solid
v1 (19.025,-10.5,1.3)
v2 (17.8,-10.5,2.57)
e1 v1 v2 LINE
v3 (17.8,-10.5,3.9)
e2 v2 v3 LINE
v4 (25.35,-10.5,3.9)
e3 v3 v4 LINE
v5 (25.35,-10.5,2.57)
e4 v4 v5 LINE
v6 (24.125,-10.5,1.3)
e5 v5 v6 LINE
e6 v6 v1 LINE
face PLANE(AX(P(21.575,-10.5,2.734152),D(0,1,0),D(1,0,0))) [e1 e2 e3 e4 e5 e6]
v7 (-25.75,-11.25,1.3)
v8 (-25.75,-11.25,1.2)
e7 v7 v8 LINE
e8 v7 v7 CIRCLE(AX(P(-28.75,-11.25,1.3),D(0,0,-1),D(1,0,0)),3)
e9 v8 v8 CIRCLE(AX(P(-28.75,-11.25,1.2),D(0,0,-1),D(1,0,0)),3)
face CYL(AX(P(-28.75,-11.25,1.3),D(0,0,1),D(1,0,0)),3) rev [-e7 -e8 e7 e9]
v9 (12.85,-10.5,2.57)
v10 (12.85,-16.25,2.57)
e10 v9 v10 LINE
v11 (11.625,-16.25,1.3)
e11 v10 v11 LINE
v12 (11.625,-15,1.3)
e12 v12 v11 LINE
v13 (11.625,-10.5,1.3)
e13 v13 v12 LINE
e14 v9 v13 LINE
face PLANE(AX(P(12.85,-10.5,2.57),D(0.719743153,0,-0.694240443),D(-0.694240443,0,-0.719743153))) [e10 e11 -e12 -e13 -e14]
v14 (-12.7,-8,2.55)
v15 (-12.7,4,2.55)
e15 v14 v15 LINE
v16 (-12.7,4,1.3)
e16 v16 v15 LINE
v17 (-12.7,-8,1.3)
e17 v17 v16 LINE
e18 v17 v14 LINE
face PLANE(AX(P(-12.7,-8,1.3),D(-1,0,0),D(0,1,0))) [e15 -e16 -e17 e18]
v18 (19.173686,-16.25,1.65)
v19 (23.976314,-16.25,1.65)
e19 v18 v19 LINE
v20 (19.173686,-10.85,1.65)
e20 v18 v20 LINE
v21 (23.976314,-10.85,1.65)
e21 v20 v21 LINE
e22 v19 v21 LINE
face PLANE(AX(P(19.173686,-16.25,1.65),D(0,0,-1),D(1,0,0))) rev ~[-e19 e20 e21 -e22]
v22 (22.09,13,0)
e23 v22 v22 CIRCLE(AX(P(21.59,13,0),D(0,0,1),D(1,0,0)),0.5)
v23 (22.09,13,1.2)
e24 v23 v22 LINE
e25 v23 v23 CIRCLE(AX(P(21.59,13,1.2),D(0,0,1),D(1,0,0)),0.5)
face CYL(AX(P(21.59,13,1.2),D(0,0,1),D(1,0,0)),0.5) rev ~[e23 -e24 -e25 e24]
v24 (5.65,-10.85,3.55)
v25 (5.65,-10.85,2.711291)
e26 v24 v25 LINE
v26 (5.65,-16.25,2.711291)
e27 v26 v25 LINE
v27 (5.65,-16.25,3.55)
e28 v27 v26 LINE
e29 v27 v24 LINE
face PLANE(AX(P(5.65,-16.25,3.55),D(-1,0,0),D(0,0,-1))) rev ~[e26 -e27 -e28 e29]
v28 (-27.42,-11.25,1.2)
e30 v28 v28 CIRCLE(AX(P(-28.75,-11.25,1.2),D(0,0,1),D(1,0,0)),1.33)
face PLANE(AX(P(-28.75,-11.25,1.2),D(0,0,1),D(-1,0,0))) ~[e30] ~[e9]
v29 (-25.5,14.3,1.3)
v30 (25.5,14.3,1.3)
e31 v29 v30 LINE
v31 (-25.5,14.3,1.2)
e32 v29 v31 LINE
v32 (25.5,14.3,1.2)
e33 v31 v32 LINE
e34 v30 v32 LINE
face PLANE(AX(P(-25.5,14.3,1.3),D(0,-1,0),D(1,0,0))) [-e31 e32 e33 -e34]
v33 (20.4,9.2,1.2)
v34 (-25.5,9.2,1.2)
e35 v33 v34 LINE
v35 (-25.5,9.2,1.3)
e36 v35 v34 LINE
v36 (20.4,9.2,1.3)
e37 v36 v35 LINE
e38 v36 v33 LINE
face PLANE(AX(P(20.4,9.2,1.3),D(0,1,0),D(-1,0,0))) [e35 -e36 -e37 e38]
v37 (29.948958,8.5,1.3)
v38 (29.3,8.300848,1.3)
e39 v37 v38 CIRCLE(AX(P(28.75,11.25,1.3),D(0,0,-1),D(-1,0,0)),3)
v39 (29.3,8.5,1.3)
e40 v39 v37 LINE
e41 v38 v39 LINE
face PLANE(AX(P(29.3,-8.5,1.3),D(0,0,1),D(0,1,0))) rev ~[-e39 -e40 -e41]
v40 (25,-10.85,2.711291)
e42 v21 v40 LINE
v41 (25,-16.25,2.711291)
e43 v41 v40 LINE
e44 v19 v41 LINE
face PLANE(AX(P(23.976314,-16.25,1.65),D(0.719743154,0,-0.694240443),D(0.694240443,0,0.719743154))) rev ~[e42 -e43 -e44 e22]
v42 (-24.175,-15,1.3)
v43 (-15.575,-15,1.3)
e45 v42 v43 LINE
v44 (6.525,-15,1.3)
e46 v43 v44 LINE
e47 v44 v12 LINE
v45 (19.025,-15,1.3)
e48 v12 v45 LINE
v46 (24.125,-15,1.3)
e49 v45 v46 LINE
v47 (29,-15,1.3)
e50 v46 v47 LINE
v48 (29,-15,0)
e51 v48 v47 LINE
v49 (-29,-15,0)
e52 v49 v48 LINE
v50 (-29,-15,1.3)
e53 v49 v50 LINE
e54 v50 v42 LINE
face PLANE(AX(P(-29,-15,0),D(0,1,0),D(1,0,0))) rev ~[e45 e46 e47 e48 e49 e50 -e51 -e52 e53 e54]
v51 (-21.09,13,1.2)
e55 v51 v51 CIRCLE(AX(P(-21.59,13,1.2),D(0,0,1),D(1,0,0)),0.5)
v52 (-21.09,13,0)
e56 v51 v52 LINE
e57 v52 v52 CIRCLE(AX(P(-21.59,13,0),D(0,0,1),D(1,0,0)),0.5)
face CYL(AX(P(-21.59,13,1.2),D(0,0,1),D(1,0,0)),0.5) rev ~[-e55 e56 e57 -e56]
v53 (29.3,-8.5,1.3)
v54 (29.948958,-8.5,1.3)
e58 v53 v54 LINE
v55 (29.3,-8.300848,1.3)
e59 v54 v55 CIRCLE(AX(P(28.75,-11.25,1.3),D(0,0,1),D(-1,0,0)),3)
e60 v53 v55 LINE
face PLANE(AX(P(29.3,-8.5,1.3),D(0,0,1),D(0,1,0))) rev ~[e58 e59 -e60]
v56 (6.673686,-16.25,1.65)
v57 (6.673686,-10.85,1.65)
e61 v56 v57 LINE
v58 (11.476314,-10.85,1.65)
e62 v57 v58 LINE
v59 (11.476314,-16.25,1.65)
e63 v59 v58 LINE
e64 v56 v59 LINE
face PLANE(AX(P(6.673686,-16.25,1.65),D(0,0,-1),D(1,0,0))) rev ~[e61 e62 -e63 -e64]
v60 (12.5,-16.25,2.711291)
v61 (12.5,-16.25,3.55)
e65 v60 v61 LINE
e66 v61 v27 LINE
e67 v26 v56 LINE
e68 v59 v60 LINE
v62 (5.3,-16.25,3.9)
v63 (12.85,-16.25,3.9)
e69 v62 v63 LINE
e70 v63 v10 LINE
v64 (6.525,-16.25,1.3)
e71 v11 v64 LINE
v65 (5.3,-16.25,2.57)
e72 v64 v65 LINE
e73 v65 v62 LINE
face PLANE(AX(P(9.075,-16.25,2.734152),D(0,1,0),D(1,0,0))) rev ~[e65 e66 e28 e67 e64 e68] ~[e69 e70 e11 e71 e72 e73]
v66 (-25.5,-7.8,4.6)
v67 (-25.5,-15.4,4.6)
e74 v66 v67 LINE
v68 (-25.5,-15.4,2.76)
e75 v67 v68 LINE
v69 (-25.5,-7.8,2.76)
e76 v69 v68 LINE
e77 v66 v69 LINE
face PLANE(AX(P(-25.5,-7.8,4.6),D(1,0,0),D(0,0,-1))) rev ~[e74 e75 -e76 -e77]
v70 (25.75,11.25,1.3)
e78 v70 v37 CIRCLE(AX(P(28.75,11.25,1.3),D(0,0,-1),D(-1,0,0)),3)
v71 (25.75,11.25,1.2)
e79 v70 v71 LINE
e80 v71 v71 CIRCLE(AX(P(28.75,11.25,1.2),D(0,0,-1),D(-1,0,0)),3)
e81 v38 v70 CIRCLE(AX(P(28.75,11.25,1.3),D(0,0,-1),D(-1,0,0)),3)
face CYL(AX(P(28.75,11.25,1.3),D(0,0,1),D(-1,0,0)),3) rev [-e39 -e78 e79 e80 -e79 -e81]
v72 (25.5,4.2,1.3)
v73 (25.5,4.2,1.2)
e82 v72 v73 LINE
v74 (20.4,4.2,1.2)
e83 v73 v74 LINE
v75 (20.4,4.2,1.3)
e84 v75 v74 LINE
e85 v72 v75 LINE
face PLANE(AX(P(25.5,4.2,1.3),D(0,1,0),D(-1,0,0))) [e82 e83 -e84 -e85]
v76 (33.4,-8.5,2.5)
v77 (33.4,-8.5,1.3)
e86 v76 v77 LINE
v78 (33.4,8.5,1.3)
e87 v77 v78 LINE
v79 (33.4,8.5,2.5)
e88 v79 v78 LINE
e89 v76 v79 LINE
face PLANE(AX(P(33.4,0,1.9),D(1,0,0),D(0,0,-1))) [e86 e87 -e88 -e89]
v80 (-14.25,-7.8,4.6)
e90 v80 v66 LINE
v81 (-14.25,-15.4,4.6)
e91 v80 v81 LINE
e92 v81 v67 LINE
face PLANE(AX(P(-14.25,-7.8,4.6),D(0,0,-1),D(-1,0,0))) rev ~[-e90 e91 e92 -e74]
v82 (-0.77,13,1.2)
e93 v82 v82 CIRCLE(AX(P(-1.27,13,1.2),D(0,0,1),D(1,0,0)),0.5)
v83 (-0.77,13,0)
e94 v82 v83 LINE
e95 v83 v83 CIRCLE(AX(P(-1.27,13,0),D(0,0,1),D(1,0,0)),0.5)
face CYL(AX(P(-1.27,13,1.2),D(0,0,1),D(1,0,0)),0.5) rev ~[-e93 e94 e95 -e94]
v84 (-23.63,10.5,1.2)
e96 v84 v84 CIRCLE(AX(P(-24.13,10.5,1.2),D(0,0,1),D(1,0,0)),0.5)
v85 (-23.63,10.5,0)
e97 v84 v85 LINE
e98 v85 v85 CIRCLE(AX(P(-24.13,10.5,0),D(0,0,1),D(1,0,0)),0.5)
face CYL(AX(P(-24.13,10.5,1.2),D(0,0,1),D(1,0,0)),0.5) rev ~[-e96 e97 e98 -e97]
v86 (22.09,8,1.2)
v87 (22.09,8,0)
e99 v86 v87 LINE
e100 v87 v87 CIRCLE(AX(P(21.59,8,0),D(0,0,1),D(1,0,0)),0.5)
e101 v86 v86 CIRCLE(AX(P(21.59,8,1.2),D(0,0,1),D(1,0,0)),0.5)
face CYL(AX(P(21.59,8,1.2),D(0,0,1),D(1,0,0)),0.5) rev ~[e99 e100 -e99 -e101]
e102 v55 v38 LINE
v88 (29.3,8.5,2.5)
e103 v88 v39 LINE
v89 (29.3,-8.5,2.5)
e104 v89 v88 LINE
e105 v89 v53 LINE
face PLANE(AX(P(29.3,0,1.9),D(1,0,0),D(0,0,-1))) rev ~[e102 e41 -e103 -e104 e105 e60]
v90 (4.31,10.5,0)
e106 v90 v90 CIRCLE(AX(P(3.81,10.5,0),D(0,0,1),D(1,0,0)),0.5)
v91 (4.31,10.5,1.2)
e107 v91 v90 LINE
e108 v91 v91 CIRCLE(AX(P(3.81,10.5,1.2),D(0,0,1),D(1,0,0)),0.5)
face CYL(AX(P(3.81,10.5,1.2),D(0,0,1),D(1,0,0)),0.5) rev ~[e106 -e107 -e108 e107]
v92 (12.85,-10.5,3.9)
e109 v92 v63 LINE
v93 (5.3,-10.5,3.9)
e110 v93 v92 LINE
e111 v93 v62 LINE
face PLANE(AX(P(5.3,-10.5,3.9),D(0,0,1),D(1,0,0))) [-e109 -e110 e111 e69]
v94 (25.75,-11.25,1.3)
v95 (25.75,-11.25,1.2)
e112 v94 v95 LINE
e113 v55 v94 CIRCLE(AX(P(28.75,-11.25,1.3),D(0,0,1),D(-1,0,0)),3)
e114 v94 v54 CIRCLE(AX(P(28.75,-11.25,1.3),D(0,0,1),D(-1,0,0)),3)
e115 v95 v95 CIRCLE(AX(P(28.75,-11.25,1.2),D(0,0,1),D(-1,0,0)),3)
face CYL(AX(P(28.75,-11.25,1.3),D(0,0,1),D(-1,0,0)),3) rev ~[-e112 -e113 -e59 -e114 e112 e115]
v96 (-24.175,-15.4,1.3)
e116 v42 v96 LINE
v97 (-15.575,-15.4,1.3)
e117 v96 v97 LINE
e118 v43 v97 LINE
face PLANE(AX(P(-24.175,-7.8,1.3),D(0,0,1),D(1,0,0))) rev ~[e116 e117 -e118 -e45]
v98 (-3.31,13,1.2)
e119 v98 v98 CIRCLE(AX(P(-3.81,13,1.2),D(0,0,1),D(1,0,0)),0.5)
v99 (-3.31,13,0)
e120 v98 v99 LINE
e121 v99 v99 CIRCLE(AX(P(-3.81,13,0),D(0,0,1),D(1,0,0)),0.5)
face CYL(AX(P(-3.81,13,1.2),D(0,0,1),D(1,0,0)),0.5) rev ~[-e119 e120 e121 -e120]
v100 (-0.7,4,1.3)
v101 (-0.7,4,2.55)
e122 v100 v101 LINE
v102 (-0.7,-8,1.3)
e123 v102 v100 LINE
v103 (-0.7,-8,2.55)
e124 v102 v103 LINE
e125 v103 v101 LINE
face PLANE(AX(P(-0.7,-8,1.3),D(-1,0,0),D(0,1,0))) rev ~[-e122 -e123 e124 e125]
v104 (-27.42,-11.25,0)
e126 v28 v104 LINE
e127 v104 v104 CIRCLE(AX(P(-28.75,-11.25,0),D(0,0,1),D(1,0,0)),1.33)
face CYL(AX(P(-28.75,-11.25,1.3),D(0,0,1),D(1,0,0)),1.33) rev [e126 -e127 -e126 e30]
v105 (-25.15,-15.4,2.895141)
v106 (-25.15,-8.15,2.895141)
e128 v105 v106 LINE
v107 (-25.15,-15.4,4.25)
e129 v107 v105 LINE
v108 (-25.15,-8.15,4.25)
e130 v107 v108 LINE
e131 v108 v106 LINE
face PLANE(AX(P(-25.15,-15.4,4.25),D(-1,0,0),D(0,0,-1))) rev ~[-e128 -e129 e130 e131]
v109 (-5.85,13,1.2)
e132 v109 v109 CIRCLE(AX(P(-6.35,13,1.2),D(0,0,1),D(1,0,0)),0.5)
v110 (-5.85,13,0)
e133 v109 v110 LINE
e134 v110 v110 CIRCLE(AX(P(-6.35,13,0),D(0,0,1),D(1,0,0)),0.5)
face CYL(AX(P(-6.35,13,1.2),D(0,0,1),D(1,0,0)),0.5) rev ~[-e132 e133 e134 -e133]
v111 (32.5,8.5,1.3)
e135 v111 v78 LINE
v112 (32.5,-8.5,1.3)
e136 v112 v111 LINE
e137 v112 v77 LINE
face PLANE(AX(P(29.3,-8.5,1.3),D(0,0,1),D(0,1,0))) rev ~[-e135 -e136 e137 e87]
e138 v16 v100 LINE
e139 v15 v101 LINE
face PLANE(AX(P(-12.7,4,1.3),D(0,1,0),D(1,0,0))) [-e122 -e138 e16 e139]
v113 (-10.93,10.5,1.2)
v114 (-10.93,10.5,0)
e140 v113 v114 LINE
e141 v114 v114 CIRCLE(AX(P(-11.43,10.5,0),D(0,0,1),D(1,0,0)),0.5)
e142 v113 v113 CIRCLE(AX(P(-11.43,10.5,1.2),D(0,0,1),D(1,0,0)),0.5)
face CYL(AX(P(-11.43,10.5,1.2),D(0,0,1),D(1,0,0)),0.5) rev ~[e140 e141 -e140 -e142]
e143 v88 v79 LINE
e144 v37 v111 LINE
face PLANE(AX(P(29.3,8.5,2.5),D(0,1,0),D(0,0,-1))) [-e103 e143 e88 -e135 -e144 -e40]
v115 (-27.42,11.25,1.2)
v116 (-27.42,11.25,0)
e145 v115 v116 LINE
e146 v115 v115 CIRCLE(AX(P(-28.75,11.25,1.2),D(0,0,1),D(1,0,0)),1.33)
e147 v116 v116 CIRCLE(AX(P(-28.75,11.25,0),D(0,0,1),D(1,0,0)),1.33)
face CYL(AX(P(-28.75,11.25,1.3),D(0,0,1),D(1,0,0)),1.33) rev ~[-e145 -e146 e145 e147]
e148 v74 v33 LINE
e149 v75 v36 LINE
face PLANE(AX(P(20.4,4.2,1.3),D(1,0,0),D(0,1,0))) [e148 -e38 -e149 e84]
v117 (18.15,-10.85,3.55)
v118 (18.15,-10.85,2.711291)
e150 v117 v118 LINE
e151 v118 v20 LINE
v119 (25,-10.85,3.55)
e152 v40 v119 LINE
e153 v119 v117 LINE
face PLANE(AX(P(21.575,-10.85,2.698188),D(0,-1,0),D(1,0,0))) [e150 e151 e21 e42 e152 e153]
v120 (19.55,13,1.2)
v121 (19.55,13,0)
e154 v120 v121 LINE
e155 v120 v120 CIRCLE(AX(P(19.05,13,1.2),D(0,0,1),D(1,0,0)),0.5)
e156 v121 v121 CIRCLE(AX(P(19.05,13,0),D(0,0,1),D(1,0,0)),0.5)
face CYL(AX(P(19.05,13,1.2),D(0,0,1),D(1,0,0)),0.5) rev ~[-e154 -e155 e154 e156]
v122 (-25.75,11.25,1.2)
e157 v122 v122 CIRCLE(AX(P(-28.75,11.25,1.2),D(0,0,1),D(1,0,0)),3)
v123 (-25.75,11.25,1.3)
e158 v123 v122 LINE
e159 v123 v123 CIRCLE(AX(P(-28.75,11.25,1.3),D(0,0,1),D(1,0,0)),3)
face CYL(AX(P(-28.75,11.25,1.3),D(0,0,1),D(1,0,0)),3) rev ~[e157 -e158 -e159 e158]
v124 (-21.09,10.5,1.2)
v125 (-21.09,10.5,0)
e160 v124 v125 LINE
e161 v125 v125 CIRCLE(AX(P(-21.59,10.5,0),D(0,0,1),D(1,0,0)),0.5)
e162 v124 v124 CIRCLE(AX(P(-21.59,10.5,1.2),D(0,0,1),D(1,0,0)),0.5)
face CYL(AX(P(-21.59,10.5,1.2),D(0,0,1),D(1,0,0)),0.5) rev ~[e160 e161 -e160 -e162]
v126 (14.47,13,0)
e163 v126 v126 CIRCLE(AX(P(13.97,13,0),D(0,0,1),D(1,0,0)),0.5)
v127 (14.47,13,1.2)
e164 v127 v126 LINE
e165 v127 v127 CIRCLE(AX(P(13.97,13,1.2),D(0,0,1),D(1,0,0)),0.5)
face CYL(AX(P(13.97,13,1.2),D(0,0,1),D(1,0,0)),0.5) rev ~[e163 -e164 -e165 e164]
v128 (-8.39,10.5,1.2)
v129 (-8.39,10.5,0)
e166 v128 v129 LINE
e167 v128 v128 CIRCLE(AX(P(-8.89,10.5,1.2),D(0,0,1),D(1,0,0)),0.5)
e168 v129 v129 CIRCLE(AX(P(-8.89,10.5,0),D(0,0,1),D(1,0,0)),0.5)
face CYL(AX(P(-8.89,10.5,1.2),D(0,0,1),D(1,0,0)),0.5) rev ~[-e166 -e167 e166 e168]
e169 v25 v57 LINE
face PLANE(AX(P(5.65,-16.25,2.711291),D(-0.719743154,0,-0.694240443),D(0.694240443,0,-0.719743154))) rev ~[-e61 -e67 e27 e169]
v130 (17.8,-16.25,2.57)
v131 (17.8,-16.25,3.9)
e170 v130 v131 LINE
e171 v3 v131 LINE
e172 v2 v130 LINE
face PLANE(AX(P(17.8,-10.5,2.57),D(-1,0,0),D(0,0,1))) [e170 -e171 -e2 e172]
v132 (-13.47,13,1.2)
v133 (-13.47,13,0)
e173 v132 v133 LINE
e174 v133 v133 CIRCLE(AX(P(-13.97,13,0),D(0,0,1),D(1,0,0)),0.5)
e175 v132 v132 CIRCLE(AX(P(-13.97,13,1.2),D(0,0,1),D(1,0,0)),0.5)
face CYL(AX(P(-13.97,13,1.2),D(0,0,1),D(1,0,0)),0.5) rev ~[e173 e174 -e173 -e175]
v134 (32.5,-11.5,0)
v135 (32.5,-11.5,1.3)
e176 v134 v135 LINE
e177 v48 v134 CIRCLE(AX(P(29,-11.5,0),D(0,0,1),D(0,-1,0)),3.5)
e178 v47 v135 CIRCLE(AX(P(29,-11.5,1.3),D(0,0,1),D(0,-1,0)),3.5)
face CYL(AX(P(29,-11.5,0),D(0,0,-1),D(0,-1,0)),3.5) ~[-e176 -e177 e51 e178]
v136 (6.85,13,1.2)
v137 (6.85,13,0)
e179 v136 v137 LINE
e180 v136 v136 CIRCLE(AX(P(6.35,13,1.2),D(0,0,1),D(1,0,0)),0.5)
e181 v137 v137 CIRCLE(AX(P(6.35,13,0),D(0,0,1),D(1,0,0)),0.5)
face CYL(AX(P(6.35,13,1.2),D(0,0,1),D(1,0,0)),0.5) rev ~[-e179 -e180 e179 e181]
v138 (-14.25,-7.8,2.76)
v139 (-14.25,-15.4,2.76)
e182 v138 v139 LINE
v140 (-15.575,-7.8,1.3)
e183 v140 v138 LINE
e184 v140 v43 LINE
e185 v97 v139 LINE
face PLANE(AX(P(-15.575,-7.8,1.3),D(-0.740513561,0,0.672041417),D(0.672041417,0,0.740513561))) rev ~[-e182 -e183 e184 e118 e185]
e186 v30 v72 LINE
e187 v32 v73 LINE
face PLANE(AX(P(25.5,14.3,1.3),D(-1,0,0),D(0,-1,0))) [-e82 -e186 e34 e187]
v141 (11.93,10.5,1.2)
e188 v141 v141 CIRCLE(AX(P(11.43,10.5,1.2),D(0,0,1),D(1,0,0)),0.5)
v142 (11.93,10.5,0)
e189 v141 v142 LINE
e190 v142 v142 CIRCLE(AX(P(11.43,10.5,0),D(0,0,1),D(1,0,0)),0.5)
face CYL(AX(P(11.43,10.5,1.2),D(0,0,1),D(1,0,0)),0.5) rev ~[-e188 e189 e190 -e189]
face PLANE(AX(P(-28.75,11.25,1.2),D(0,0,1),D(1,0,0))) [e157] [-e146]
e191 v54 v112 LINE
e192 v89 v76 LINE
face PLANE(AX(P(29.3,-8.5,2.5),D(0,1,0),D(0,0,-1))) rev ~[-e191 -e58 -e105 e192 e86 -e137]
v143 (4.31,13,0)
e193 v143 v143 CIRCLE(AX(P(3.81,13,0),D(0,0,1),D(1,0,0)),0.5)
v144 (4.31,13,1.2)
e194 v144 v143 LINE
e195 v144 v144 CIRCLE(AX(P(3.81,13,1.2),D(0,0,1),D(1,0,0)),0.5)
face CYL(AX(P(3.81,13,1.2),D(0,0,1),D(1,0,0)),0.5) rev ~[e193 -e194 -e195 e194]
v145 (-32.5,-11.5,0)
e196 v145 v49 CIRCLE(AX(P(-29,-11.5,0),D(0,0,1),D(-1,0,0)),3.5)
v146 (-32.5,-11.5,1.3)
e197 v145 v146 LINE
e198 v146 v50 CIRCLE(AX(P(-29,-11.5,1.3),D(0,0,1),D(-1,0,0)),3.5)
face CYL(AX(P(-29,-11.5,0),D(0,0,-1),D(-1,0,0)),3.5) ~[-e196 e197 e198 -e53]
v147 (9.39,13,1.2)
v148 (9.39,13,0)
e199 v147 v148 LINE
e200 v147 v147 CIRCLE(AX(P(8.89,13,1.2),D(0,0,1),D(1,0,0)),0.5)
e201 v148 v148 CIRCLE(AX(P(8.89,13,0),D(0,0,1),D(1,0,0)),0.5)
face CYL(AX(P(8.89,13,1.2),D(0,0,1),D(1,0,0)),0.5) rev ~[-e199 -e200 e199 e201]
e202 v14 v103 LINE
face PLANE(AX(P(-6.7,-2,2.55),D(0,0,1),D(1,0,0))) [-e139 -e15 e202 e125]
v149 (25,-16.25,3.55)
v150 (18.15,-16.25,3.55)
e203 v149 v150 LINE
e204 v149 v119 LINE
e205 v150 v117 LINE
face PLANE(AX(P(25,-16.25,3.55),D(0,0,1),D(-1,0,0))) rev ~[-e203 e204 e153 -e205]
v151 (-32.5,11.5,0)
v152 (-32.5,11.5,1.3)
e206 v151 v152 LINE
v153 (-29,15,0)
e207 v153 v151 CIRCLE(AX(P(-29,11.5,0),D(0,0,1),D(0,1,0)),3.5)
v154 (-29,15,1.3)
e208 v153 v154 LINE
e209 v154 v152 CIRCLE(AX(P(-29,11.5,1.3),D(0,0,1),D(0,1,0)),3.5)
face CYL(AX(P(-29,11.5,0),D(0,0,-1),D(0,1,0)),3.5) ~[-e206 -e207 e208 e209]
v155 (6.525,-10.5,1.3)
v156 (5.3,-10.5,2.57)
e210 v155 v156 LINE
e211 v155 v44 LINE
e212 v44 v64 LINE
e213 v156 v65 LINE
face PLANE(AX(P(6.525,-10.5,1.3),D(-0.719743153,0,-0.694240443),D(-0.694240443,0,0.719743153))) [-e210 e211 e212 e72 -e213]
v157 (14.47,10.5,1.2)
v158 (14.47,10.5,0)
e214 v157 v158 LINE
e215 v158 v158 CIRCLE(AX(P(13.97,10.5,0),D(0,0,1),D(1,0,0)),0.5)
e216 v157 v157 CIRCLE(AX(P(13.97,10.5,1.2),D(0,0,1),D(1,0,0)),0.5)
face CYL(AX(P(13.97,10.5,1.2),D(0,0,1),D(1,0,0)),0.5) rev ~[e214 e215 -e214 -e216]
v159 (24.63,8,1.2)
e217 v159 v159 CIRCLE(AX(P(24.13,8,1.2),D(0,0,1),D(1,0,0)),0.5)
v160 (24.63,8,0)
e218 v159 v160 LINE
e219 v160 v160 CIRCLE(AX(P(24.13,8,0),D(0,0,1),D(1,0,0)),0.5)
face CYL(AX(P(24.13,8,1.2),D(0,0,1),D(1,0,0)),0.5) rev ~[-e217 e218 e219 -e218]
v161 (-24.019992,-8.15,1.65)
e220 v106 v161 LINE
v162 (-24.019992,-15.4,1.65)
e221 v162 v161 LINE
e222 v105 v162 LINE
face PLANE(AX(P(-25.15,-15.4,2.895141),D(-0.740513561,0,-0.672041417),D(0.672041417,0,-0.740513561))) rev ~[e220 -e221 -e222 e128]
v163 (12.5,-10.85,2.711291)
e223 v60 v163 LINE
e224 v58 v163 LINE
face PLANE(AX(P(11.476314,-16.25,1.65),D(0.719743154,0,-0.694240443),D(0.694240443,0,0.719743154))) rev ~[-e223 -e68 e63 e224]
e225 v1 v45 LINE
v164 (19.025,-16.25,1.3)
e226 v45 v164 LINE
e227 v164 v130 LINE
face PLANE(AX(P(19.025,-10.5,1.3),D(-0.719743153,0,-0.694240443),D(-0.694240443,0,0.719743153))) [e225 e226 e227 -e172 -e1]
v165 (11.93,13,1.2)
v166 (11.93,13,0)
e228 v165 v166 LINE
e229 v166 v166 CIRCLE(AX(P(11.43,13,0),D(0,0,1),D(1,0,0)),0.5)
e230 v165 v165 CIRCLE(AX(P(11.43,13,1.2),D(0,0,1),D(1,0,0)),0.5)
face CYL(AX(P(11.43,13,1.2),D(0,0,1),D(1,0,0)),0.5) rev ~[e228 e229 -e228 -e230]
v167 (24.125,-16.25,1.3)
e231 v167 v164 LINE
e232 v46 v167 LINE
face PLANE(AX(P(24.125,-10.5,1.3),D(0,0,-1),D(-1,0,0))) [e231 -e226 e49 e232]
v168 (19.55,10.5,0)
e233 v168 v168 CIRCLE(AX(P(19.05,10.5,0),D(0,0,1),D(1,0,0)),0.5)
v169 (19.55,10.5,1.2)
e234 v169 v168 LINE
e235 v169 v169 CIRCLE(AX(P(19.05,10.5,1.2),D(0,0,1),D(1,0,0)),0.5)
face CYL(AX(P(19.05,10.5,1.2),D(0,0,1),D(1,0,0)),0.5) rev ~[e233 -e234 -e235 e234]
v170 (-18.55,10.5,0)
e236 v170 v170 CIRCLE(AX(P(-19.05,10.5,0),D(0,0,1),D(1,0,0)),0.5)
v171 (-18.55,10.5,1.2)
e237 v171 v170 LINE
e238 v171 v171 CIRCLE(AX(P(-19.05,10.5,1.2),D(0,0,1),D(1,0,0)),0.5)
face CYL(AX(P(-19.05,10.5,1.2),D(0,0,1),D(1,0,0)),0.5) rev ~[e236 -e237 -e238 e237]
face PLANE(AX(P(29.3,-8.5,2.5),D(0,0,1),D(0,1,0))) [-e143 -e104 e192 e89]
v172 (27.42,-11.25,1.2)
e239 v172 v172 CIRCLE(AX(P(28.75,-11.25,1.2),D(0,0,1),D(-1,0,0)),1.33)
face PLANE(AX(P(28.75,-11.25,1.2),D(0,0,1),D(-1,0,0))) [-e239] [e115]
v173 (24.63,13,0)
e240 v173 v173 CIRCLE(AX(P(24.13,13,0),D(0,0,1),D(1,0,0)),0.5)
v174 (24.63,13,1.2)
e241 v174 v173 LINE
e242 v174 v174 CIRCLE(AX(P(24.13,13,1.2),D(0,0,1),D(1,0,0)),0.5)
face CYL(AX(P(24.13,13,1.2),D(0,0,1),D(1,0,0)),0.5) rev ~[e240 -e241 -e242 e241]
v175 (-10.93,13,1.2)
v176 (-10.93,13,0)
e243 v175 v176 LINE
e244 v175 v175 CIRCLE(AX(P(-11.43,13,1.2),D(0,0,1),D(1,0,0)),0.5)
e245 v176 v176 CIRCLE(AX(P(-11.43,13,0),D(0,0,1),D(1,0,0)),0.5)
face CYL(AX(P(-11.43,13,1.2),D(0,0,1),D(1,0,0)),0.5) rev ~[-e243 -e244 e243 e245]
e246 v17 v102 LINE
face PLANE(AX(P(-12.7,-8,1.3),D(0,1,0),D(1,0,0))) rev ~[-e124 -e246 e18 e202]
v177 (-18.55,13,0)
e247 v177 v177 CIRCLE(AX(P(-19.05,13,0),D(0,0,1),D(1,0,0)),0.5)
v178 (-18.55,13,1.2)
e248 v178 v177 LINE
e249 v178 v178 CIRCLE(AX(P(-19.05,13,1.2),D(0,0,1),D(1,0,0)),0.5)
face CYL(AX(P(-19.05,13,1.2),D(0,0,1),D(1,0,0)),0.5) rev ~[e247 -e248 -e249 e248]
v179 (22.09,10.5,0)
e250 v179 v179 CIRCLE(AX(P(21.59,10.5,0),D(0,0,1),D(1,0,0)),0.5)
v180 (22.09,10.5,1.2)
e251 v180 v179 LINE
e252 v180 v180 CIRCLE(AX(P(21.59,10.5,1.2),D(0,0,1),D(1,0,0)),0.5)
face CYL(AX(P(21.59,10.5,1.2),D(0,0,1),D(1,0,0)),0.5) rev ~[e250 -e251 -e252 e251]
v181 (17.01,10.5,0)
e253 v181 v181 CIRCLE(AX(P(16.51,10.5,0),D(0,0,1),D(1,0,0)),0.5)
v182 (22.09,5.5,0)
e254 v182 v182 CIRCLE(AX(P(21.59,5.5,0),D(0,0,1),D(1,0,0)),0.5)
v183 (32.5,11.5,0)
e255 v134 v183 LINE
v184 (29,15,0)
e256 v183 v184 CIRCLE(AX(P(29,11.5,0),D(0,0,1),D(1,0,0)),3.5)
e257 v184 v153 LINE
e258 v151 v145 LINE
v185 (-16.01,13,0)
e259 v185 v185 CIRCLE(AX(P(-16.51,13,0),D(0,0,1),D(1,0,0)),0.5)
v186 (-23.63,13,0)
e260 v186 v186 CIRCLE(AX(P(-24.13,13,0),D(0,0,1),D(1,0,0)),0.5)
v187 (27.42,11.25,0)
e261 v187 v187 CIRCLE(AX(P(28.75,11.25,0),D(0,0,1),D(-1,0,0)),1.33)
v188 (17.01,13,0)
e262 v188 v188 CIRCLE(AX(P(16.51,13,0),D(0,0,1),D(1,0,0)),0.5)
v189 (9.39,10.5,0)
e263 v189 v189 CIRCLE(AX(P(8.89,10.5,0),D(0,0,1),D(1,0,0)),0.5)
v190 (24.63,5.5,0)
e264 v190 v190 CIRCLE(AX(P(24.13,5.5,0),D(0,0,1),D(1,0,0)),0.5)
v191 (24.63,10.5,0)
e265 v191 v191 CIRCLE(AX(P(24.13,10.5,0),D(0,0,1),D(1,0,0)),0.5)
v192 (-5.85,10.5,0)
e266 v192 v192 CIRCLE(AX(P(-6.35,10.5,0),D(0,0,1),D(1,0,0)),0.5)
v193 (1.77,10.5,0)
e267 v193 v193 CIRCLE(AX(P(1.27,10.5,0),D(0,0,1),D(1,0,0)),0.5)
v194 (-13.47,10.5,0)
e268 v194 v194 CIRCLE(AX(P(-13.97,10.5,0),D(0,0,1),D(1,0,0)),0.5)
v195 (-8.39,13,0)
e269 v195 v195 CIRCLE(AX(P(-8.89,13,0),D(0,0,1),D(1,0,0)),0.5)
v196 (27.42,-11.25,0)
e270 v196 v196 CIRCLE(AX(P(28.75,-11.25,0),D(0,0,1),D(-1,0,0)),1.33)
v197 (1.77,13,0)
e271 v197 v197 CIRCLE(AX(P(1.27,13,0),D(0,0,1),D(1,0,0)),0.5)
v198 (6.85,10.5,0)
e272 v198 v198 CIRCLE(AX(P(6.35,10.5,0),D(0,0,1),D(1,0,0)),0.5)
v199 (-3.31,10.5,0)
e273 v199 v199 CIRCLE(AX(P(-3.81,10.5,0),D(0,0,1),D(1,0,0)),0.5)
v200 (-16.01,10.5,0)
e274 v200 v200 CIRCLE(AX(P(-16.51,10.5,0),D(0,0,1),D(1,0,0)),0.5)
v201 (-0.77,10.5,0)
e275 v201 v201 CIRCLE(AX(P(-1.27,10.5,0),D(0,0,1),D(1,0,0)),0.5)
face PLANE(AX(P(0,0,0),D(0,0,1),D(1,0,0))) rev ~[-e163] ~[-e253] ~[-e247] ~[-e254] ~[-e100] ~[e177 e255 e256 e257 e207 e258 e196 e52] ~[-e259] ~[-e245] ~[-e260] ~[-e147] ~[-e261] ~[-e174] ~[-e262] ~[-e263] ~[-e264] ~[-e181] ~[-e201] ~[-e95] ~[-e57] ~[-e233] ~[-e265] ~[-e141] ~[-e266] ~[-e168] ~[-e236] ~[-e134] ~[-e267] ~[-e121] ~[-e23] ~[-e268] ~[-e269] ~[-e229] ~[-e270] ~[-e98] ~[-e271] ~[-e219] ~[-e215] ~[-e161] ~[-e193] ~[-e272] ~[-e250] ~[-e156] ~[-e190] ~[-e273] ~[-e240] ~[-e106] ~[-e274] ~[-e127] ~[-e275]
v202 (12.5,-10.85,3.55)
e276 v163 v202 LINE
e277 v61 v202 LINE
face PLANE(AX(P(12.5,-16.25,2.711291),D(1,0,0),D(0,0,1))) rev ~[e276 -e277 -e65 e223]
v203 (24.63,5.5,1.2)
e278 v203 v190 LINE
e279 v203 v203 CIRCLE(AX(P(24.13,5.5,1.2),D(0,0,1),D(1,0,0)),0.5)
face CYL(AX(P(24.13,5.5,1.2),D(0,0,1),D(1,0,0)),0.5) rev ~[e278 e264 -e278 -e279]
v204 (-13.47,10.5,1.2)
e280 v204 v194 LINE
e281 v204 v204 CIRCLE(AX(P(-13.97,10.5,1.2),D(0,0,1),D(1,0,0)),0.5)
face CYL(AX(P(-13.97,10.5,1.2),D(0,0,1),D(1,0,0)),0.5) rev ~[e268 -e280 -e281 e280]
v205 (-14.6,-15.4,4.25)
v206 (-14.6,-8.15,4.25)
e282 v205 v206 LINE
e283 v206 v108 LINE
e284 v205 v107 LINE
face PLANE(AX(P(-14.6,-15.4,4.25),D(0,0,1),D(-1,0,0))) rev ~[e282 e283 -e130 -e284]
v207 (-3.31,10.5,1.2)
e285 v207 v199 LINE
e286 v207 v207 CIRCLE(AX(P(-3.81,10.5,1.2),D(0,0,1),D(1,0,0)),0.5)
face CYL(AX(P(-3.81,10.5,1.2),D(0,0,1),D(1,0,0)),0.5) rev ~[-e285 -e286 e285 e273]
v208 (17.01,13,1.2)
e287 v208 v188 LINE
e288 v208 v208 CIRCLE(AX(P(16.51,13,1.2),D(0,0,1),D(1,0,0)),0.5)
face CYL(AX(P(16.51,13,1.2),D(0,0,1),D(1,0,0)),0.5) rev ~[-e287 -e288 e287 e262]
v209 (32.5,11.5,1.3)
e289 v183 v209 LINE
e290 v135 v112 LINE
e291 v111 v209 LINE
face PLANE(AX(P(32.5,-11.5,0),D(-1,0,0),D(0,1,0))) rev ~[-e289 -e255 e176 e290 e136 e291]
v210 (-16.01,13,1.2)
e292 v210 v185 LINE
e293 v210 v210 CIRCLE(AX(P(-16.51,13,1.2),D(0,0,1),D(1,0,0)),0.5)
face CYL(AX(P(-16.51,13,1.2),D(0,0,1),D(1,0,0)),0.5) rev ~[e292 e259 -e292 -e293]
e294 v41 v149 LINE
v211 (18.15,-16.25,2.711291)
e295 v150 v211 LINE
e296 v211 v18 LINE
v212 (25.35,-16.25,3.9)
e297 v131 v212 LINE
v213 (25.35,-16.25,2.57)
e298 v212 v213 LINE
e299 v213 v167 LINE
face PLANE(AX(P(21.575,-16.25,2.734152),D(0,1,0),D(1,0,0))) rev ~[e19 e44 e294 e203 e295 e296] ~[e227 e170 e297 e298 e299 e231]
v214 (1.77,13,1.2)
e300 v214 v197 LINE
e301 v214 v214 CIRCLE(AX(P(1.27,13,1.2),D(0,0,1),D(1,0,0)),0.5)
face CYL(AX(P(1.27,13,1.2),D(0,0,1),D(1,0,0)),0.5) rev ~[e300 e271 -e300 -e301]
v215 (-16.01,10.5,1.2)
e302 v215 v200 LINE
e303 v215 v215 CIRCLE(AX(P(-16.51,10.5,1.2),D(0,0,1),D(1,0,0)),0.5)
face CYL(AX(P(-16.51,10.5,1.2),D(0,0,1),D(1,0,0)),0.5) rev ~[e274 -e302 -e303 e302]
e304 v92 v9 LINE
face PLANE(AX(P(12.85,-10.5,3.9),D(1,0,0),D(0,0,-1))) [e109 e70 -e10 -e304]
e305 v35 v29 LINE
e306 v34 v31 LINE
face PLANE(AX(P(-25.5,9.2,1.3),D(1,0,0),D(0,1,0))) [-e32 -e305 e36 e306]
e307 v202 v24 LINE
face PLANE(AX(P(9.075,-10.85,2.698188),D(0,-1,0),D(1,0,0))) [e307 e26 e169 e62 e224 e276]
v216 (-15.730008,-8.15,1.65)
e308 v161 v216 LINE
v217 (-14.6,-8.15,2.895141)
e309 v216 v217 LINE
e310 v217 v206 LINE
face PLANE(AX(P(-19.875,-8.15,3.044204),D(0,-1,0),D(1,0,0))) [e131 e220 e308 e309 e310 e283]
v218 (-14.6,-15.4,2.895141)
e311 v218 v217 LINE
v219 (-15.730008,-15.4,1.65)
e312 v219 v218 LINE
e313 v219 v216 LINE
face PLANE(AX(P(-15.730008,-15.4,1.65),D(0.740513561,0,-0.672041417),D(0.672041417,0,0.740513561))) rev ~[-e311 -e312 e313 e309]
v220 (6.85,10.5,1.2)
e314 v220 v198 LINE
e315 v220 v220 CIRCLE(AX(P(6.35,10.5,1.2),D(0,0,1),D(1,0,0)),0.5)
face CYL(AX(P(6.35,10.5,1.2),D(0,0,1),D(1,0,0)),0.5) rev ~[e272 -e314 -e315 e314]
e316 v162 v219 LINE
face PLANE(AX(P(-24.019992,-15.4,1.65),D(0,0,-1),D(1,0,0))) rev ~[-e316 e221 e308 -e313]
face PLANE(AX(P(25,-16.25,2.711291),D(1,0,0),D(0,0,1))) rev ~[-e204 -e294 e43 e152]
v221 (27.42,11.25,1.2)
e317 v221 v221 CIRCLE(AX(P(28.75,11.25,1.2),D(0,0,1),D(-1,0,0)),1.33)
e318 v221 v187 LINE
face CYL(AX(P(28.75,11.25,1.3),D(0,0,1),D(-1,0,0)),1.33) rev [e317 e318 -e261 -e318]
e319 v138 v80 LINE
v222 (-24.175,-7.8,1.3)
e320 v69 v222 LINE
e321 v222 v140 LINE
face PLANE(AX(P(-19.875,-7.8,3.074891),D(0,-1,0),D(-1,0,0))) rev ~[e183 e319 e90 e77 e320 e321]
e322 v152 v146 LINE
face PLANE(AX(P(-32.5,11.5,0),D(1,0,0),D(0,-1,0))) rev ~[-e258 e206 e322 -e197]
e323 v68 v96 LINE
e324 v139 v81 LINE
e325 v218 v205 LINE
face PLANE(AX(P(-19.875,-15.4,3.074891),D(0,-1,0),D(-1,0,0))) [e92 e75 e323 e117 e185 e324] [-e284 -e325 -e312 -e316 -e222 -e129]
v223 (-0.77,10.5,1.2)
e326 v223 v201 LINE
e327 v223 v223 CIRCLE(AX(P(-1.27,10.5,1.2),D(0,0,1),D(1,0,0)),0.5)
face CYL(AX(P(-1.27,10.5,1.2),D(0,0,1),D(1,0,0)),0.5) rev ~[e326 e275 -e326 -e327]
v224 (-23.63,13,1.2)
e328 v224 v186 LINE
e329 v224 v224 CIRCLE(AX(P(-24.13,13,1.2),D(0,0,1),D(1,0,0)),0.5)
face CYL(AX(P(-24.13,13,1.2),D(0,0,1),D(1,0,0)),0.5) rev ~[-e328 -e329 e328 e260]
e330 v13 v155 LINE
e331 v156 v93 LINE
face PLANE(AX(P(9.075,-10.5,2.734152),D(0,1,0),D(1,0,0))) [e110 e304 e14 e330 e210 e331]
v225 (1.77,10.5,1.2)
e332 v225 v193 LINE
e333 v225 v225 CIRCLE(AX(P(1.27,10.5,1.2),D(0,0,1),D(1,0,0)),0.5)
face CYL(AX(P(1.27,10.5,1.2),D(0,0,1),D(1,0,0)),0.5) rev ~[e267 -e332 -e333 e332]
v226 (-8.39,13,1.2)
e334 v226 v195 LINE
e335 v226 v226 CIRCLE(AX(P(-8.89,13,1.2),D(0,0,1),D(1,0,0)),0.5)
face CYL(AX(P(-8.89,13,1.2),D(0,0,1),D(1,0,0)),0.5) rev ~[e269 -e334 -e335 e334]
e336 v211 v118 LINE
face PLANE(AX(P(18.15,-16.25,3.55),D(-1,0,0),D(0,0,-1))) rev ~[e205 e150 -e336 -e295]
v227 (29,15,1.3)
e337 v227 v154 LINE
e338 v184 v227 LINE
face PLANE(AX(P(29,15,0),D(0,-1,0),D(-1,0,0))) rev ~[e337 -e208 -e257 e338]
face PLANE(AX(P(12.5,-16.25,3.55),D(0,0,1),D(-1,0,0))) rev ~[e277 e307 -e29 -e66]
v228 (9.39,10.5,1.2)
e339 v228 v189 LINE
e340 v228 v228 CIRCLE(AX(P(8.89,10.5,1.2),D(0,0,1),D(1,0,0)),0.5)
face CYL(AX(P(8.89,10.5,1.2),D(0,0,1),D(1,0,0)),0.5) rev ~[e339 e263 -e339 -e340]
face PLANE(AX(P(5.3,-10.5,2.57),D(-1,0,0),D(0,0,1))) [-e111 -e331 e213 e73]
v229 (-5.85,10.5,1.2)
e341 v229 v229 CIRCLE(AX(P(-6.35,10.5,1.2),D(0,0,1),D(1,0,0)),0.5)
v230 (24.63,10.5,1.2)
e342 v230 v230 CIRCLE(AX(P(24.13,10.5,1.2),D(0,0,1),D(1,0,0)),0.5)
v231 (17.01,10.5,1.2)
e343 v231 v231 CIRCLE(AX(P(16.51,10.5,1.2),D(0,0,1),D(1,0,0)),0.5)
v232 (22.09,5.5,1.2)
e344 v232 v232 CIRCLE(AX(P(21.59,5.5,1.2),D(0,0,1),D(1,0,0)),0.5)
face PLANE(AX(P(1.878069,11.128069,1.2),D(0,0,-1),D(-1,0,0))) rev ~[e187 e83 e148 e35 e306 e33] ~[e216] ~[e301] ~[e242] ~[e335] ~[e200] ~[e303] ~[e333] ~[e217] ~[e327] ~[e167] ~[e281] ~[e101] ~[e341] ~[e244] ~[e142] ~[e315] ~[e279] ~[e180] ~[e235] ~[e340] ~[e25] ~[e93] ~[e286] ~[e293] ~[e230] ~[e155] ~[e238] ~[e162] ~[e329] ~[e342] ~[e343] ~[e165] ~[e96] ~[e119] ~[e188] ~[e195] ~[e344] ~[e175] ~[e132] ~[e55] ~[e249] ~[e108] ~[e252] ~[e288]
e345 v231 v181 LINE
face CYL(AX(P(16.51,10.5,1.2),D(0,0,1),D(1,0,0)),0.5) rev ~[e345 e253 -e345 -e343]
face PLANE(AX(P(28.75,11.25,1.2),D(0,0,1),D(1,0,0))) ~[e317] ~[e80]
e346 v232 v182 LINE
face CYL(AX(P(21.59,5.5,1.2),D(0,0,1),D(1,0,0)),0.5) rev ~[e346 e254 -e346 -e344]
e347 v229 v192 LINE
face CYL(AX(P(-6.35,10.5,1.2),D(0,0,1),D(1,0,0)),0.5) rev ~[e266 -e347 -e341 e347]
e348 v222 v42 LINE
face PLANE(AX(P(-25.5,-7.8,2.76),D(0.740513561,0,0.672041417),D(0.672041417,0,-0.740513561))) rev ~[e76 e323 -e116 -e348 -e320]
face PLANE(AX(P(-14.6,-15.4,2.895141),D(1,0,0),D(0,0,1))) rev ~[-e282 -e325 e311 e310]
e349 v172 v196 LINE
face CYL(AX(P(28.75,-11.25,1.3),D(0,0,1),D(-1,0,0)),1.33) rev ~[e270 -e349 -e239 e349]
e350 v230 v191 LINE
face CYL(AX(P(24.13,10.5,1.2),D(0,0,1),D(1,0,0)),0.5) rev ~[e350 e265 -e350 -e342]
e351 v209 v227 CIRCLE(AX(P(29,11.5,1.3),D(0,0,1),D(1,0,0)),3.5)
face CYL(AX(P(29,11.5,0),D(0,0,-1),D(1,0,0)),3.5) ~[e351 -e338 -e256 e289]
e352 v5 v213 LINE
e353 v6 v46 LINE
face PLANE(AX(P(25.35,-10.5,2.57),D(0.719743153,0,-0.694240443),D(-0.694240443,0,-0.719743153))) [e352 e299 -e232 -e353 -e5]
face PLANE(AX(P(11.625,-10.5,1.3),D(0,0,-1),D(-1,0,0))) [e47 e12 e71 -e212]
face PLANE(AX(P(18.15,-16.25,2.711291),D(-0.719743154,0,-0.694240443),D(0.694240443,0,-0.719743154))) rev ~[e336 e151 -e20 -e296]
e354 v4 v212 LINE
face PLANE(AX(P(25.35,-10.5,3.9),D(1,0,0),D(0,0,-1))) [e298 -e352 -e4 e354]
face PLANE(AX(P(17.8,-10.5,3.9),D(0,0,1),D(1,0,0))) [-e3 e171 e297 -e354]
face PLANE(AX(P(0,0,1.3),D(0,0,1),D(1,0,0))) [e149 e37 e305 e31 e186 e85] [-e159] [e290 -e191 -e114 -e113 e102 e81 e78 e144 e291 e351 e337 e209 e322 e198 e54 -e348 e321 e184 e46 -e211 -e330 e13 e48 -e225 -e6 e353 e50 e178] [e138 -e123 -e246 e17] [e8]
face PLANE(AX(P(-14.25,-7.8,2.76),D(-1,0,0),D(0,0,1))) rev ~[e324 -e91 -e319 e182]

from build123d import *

# Parameters (mm, degrees)
BOSS_EXTRUDE1_DEPTH     = 1.3
SKETCH2_R               = 1.33
CUT_EXTRUDE1_DEPTH      = 36.818151823
MIRROR2_COPY_1_SKETCH_R = 1.33
MIRROR2_COPY_1_DEPTH    = 36.818151823
CUT_EXTRUDE2_DEPTH      = 0.1
SKETCH4_R               = 0.5
CUT_EXTRUDE3_DEPTH      = 36.814661802
LPATTERN1_COUNT         = 20
LPATTERN1_PITCH         = 2.54
LPATTERN1_COUNT_DIR2    = 2
LPATTERN1_PITCH_DIR2    = 2.5
SKETCH5_R               = 0.5
CUT_EXTRUDE4_DEPTH      = 36.814661802
LPATTERN2_COUNT         = 2
LPATTERN2_PITCH         = 2.54
LPATTERN2_COUNT_DIR2    = 2
LPATTERN2_PITCH_DIR2    = 2.5
SKETCH7_R               = 3
CUT_EXTRUDE5_DEPTH      = 0.1
MIRROR4_COPY_1_SKETCH_R = 3
MIRROR4_COPY_1_DEPTH    = 0.1
SKETCH8_W               = 12
SKETCH8_H               = 12
BOSS_EXTRUDE2_DEPTH     = 1.25
BOSS_EXTRUDE3_START     = -7.8
BOSS_EXTRUDE3_DEPTH     = 7.6
CUT_EXTRUDE6_DEPTH      = 7.25
BOSS_EXTRUDE4_START     = -10.5
BOSS_EXTRUDE4_DEPTH     = 5.75
CUT_EXTRUDE7_DEPTH      = 5.4
LPATTERN3_COUNT         = 2
LPATTERN3_PITCH         = 12.5
BOSS_EXTRUDE5_START     = 29.3
SKETCH14_W              = 1.2
SKETCH14_H              = 17
BOSS_EXTRUDE5_DEPTH     = 4.1


with BuildPart() as part:
    # Sketch1 → Boss-Extrude1 (new body)
    with BuildSketch(Plane.XY):
        with BuildLine():
            Line((-29, -15), (29, -15))
            ThreePointArc((29, -15), (31.474873734, -13.974873734), (32.5, -11.5))
            Line((32.5, -11.5), (32.5, 11.5))
            ThreePointArc((32.5, 11.5), (31.474873734, 13.974873734), (29, 15))
            Line((29, 15), (-29, 15))
            ThreePointArc((-29, 15), (-31.474873734, 13.974873734), (-32.5, 11.5))
            Line((-32.5, 11.5), (-32.5, -11.5))
            ThreePointArc((-32.5, -11.5), (-31.474873734, -13.974873734), (-29, -15))
        make_face()
    extrude(amount=BOSS_EXTRUDE1_DEPTH)

    # Sketch2 → Cut-Extrude1 (cut, through all)
    with BuildSketch(Plane.XY.offset(1.3)):
        with Locations((-28.75, 11.25)):
            Circle(SKETCH2_R)
    cut_extrude1 = extrude(amount=-CUT_EXTRUDE1_DEPTH, mode=Mode.SUBTRACT)

    # Mirror1: Cut-Extrude1 across plane
    add(cut_extrude1.mirror(Plane.ZX), mode=Mode.SUBTRACT)

    # Mirror2: Cut-Extrude1 across plane
    add(cut_extrude1.mirror(Plane(origin=(0, 0, 0), x_dir=(0, 0, 1), z_dir=(1, 0, 0))), mode=Mode.SUBTRACT)

    # Mirror2 copy 1 sketch → Mirror2 copy 1 (cut, through all)
    with BuildSketch(Plane(origin=(0, 0, 1.3), x_dir=(-1, 0, 0), z_dir=(0, 0, 1))):
        with Locations((-28.75, 11.25)):
            Circle(MIRROR2_COPY_1_SKETCH_R)
    extrude(amount=-MIRROR2_COPY_1_DEPTH, mode=Mode.SUBTRACT)

    # Sketch3 → Cut-Extrude2 (cut)
    with BuildSketch(Plane.XY.offset(1.3)):
        Polygon((-25.5, 14.3), (25.5, 14.3), (25.5, 4.2), (20.4, 4.2), (20.4, 9.2), (-25.5, 9.2), align=None)
    extrude(amount=-CUT_EXTRUDE2_DEPTH, mode=Mode.SUBTRACT)

    # Sketch4 → Cut-Extrude3 (cut, through all)
    with BuildSketch(Plane.XY.offset(1.2)):
        with Locations((-24.13, 13)):
            Circle(SKETCH4_R)
    cut_extrude3 = extrude(amount=-CUT_EXTRUDE3_DEPTH, mode=Mode.SUBTRACT)

    # LPattern1: Cut-Extrude3 20 × 2
    with Locations(*[(i * LPATTERN1_PITCH, -j * LPATTERN1_PITCH_DIR2, 0) for i in range(LPATTERN1_COUNT) for j in range(LPATTERN1_COUNT_DIR2) if (i, j) != (0, 0)]):
        add(cut_extrude3, mode=Mode.SUBTRACT)

    # Sketch5 → Cut-Extrude4 (cut, through all)
    with BuildSketch(Plane.XY.offset(1.2)):
        with Locations((21.59, 8)):
            Circle(SKETCH5_R)
    cut_extrude4 = extrude(amount=-CUT_EXTRUDE4_DEPTH, mode=Mode.SUBTRACT)

    # LPattern2: Cut-Extrude4 2 × 2
    with Locations(*[(i * LPATTERN2_PITCH, -j * LPATTERN2_PITCH_DIR2, 0) for i in range(LPATTERN2_COUNT) for j in range(LPATTERN2_COUNT_DIR2) if (i, j) != (0, 0)]):
        add(cut_extrude4, mode=Mode.SUBTRACT)

    # Sketch7 → Cut-Extrude5 (cut)
    with BuildSketch(Plane.XY.offset(1.3)):
        with Locations((-28.75, 11.25)):
            Circle(SKETCH7_R)
    cut_extrude5 = extrude(amount=-CUT_EXTRUDE5_DEPTH, mode=Mode.SUBTRACT)

    # Mirror3: Cut-Extrude5 across plane
    add(cut_extrude5.mirror(Plane.ZX), mode=Mode.SUBTRACT)

    # Mirror4: Cut-Extrude5 across plane
    add(cut_extrude5.mirror(Plane(origin=(0, 0, 0), x_dir=(0, 0, 1), z_dir=(1, 0, 0))), mode=Mode.SUBTRACT)

    # Mirror4 copy 1 sketch → Mirror4 copy 1 (cut)
    with BuildSketch(Plane(origin=(0, 0, 1.3), x_dir=(-1, 0, 0), z_dir=(0, 0, 1))):
        with Locations((-28.75, 11.25)):
            Circle(MIRROR4_COPY_1_SKETCH_R)
    extrude(amount=-MIRROR4_COPY_1_DEPTH, mode=Mode.SUBTRACT)

    # Sketch8 → Boss-Extrude2 (add)
    with BuildSketch(Plane.XY.offset(1.3)):
        with Locations((-6.7, -2)):
            Rectangle(SKETCH8_W, SKETCH8_H)
    extrude(amount=BOSS_EXTRUDE2_DEPTH)

    # Sketch9 → Boss-Extrude3 (add)
    with BuildSketch(Plane(origin=(0, 0, 0), x_dir=(1, 0, 0), z_dir=(0, 1, 0)).offset(BOSS_EXTRUDE3_START)):
        Polygon((-24.175, -1.3), (-15.575, -1.3), (-14.25, -2.76), (-14.25, -4.6), (-25.5, -4.6), (-25.5, -2.76), align=None)
    extrude(amount=-BOSS_EXTRUDE3_DEPTH)

    # Sketch10 → Cut-Extrude6 (cut)
    with BuildSketch(Plane.XZ.offset(15.4)):
        Polygon((-14.6, 2.895140858), (-14.6, 4.25), (-25.15, 4.25), (-25.15, 2.895140858), (-24.01999203, 1.65), (-15.73000797, 1.65), align=None)
    extrude(amount=-CUT_EXTRUDE6_DEPTH, mode=Mode.SUBTRACT)

    # Sketch12 → Boss-Extrude4 (add)
    with BuildSketch(Plane(origin=(0, 0, 0), x_dir=(1, 0, 0), z_dir=(0, 1, 0)).offset(BOSS_EXTRUDE4_START)):
        Polygon((17.8, -3.9), (25.35, -3.9), (25.35, -2.57), (24.125, -1.3), (19.025, -1.3), (17.8, -2.57), align=None)
    boss_extrude4 = extrude(amount=-BOSS_EXTRUDE4_DEPTH)

    # Sketch13 → Cut-Extrude7 (cut)
    with BuildSketch(Plane.XZ.offset(16.25)):
        Polygon((18.15, 3.55), (18.15, 2.711290957), (19.173686159, 1.65), (23.976313841, 1.65), (25, 2.711290957), (25, 3.55), align=None)
    cut_extrude7 = extrude(amount=-CUT_EXTRUDE7_DEPTH, mode=Mode.SUBTRACT)

    # LPattern3: Boss-Extrude4, Cut-Extrude7 ×2
    with Locations(*[(-i * LPATTERN3_PITCH, 0, 0) for i in range(1, LPATTERN3_COUNT)]):
        add(boss_extrude4)
        add(cut_extrude7, mode=Mode.SUBTRACT)

    # Sketch14 → Boss-Extrude5 (add)
    with BuildSketch(Plane(origin=(0, 0, 0), x_dir=(0, 0, -1), z_dir=(1, 0, 0)).offset(BOSS_EXTRUDE5_START)):
        with Locations((-1.9, 0)):
            Rectangle(SKETCH14_W, SKETCH14_H)
    extrude(amount=BOSS_EXTRUDE5_DEPTH)


solid = part.part
